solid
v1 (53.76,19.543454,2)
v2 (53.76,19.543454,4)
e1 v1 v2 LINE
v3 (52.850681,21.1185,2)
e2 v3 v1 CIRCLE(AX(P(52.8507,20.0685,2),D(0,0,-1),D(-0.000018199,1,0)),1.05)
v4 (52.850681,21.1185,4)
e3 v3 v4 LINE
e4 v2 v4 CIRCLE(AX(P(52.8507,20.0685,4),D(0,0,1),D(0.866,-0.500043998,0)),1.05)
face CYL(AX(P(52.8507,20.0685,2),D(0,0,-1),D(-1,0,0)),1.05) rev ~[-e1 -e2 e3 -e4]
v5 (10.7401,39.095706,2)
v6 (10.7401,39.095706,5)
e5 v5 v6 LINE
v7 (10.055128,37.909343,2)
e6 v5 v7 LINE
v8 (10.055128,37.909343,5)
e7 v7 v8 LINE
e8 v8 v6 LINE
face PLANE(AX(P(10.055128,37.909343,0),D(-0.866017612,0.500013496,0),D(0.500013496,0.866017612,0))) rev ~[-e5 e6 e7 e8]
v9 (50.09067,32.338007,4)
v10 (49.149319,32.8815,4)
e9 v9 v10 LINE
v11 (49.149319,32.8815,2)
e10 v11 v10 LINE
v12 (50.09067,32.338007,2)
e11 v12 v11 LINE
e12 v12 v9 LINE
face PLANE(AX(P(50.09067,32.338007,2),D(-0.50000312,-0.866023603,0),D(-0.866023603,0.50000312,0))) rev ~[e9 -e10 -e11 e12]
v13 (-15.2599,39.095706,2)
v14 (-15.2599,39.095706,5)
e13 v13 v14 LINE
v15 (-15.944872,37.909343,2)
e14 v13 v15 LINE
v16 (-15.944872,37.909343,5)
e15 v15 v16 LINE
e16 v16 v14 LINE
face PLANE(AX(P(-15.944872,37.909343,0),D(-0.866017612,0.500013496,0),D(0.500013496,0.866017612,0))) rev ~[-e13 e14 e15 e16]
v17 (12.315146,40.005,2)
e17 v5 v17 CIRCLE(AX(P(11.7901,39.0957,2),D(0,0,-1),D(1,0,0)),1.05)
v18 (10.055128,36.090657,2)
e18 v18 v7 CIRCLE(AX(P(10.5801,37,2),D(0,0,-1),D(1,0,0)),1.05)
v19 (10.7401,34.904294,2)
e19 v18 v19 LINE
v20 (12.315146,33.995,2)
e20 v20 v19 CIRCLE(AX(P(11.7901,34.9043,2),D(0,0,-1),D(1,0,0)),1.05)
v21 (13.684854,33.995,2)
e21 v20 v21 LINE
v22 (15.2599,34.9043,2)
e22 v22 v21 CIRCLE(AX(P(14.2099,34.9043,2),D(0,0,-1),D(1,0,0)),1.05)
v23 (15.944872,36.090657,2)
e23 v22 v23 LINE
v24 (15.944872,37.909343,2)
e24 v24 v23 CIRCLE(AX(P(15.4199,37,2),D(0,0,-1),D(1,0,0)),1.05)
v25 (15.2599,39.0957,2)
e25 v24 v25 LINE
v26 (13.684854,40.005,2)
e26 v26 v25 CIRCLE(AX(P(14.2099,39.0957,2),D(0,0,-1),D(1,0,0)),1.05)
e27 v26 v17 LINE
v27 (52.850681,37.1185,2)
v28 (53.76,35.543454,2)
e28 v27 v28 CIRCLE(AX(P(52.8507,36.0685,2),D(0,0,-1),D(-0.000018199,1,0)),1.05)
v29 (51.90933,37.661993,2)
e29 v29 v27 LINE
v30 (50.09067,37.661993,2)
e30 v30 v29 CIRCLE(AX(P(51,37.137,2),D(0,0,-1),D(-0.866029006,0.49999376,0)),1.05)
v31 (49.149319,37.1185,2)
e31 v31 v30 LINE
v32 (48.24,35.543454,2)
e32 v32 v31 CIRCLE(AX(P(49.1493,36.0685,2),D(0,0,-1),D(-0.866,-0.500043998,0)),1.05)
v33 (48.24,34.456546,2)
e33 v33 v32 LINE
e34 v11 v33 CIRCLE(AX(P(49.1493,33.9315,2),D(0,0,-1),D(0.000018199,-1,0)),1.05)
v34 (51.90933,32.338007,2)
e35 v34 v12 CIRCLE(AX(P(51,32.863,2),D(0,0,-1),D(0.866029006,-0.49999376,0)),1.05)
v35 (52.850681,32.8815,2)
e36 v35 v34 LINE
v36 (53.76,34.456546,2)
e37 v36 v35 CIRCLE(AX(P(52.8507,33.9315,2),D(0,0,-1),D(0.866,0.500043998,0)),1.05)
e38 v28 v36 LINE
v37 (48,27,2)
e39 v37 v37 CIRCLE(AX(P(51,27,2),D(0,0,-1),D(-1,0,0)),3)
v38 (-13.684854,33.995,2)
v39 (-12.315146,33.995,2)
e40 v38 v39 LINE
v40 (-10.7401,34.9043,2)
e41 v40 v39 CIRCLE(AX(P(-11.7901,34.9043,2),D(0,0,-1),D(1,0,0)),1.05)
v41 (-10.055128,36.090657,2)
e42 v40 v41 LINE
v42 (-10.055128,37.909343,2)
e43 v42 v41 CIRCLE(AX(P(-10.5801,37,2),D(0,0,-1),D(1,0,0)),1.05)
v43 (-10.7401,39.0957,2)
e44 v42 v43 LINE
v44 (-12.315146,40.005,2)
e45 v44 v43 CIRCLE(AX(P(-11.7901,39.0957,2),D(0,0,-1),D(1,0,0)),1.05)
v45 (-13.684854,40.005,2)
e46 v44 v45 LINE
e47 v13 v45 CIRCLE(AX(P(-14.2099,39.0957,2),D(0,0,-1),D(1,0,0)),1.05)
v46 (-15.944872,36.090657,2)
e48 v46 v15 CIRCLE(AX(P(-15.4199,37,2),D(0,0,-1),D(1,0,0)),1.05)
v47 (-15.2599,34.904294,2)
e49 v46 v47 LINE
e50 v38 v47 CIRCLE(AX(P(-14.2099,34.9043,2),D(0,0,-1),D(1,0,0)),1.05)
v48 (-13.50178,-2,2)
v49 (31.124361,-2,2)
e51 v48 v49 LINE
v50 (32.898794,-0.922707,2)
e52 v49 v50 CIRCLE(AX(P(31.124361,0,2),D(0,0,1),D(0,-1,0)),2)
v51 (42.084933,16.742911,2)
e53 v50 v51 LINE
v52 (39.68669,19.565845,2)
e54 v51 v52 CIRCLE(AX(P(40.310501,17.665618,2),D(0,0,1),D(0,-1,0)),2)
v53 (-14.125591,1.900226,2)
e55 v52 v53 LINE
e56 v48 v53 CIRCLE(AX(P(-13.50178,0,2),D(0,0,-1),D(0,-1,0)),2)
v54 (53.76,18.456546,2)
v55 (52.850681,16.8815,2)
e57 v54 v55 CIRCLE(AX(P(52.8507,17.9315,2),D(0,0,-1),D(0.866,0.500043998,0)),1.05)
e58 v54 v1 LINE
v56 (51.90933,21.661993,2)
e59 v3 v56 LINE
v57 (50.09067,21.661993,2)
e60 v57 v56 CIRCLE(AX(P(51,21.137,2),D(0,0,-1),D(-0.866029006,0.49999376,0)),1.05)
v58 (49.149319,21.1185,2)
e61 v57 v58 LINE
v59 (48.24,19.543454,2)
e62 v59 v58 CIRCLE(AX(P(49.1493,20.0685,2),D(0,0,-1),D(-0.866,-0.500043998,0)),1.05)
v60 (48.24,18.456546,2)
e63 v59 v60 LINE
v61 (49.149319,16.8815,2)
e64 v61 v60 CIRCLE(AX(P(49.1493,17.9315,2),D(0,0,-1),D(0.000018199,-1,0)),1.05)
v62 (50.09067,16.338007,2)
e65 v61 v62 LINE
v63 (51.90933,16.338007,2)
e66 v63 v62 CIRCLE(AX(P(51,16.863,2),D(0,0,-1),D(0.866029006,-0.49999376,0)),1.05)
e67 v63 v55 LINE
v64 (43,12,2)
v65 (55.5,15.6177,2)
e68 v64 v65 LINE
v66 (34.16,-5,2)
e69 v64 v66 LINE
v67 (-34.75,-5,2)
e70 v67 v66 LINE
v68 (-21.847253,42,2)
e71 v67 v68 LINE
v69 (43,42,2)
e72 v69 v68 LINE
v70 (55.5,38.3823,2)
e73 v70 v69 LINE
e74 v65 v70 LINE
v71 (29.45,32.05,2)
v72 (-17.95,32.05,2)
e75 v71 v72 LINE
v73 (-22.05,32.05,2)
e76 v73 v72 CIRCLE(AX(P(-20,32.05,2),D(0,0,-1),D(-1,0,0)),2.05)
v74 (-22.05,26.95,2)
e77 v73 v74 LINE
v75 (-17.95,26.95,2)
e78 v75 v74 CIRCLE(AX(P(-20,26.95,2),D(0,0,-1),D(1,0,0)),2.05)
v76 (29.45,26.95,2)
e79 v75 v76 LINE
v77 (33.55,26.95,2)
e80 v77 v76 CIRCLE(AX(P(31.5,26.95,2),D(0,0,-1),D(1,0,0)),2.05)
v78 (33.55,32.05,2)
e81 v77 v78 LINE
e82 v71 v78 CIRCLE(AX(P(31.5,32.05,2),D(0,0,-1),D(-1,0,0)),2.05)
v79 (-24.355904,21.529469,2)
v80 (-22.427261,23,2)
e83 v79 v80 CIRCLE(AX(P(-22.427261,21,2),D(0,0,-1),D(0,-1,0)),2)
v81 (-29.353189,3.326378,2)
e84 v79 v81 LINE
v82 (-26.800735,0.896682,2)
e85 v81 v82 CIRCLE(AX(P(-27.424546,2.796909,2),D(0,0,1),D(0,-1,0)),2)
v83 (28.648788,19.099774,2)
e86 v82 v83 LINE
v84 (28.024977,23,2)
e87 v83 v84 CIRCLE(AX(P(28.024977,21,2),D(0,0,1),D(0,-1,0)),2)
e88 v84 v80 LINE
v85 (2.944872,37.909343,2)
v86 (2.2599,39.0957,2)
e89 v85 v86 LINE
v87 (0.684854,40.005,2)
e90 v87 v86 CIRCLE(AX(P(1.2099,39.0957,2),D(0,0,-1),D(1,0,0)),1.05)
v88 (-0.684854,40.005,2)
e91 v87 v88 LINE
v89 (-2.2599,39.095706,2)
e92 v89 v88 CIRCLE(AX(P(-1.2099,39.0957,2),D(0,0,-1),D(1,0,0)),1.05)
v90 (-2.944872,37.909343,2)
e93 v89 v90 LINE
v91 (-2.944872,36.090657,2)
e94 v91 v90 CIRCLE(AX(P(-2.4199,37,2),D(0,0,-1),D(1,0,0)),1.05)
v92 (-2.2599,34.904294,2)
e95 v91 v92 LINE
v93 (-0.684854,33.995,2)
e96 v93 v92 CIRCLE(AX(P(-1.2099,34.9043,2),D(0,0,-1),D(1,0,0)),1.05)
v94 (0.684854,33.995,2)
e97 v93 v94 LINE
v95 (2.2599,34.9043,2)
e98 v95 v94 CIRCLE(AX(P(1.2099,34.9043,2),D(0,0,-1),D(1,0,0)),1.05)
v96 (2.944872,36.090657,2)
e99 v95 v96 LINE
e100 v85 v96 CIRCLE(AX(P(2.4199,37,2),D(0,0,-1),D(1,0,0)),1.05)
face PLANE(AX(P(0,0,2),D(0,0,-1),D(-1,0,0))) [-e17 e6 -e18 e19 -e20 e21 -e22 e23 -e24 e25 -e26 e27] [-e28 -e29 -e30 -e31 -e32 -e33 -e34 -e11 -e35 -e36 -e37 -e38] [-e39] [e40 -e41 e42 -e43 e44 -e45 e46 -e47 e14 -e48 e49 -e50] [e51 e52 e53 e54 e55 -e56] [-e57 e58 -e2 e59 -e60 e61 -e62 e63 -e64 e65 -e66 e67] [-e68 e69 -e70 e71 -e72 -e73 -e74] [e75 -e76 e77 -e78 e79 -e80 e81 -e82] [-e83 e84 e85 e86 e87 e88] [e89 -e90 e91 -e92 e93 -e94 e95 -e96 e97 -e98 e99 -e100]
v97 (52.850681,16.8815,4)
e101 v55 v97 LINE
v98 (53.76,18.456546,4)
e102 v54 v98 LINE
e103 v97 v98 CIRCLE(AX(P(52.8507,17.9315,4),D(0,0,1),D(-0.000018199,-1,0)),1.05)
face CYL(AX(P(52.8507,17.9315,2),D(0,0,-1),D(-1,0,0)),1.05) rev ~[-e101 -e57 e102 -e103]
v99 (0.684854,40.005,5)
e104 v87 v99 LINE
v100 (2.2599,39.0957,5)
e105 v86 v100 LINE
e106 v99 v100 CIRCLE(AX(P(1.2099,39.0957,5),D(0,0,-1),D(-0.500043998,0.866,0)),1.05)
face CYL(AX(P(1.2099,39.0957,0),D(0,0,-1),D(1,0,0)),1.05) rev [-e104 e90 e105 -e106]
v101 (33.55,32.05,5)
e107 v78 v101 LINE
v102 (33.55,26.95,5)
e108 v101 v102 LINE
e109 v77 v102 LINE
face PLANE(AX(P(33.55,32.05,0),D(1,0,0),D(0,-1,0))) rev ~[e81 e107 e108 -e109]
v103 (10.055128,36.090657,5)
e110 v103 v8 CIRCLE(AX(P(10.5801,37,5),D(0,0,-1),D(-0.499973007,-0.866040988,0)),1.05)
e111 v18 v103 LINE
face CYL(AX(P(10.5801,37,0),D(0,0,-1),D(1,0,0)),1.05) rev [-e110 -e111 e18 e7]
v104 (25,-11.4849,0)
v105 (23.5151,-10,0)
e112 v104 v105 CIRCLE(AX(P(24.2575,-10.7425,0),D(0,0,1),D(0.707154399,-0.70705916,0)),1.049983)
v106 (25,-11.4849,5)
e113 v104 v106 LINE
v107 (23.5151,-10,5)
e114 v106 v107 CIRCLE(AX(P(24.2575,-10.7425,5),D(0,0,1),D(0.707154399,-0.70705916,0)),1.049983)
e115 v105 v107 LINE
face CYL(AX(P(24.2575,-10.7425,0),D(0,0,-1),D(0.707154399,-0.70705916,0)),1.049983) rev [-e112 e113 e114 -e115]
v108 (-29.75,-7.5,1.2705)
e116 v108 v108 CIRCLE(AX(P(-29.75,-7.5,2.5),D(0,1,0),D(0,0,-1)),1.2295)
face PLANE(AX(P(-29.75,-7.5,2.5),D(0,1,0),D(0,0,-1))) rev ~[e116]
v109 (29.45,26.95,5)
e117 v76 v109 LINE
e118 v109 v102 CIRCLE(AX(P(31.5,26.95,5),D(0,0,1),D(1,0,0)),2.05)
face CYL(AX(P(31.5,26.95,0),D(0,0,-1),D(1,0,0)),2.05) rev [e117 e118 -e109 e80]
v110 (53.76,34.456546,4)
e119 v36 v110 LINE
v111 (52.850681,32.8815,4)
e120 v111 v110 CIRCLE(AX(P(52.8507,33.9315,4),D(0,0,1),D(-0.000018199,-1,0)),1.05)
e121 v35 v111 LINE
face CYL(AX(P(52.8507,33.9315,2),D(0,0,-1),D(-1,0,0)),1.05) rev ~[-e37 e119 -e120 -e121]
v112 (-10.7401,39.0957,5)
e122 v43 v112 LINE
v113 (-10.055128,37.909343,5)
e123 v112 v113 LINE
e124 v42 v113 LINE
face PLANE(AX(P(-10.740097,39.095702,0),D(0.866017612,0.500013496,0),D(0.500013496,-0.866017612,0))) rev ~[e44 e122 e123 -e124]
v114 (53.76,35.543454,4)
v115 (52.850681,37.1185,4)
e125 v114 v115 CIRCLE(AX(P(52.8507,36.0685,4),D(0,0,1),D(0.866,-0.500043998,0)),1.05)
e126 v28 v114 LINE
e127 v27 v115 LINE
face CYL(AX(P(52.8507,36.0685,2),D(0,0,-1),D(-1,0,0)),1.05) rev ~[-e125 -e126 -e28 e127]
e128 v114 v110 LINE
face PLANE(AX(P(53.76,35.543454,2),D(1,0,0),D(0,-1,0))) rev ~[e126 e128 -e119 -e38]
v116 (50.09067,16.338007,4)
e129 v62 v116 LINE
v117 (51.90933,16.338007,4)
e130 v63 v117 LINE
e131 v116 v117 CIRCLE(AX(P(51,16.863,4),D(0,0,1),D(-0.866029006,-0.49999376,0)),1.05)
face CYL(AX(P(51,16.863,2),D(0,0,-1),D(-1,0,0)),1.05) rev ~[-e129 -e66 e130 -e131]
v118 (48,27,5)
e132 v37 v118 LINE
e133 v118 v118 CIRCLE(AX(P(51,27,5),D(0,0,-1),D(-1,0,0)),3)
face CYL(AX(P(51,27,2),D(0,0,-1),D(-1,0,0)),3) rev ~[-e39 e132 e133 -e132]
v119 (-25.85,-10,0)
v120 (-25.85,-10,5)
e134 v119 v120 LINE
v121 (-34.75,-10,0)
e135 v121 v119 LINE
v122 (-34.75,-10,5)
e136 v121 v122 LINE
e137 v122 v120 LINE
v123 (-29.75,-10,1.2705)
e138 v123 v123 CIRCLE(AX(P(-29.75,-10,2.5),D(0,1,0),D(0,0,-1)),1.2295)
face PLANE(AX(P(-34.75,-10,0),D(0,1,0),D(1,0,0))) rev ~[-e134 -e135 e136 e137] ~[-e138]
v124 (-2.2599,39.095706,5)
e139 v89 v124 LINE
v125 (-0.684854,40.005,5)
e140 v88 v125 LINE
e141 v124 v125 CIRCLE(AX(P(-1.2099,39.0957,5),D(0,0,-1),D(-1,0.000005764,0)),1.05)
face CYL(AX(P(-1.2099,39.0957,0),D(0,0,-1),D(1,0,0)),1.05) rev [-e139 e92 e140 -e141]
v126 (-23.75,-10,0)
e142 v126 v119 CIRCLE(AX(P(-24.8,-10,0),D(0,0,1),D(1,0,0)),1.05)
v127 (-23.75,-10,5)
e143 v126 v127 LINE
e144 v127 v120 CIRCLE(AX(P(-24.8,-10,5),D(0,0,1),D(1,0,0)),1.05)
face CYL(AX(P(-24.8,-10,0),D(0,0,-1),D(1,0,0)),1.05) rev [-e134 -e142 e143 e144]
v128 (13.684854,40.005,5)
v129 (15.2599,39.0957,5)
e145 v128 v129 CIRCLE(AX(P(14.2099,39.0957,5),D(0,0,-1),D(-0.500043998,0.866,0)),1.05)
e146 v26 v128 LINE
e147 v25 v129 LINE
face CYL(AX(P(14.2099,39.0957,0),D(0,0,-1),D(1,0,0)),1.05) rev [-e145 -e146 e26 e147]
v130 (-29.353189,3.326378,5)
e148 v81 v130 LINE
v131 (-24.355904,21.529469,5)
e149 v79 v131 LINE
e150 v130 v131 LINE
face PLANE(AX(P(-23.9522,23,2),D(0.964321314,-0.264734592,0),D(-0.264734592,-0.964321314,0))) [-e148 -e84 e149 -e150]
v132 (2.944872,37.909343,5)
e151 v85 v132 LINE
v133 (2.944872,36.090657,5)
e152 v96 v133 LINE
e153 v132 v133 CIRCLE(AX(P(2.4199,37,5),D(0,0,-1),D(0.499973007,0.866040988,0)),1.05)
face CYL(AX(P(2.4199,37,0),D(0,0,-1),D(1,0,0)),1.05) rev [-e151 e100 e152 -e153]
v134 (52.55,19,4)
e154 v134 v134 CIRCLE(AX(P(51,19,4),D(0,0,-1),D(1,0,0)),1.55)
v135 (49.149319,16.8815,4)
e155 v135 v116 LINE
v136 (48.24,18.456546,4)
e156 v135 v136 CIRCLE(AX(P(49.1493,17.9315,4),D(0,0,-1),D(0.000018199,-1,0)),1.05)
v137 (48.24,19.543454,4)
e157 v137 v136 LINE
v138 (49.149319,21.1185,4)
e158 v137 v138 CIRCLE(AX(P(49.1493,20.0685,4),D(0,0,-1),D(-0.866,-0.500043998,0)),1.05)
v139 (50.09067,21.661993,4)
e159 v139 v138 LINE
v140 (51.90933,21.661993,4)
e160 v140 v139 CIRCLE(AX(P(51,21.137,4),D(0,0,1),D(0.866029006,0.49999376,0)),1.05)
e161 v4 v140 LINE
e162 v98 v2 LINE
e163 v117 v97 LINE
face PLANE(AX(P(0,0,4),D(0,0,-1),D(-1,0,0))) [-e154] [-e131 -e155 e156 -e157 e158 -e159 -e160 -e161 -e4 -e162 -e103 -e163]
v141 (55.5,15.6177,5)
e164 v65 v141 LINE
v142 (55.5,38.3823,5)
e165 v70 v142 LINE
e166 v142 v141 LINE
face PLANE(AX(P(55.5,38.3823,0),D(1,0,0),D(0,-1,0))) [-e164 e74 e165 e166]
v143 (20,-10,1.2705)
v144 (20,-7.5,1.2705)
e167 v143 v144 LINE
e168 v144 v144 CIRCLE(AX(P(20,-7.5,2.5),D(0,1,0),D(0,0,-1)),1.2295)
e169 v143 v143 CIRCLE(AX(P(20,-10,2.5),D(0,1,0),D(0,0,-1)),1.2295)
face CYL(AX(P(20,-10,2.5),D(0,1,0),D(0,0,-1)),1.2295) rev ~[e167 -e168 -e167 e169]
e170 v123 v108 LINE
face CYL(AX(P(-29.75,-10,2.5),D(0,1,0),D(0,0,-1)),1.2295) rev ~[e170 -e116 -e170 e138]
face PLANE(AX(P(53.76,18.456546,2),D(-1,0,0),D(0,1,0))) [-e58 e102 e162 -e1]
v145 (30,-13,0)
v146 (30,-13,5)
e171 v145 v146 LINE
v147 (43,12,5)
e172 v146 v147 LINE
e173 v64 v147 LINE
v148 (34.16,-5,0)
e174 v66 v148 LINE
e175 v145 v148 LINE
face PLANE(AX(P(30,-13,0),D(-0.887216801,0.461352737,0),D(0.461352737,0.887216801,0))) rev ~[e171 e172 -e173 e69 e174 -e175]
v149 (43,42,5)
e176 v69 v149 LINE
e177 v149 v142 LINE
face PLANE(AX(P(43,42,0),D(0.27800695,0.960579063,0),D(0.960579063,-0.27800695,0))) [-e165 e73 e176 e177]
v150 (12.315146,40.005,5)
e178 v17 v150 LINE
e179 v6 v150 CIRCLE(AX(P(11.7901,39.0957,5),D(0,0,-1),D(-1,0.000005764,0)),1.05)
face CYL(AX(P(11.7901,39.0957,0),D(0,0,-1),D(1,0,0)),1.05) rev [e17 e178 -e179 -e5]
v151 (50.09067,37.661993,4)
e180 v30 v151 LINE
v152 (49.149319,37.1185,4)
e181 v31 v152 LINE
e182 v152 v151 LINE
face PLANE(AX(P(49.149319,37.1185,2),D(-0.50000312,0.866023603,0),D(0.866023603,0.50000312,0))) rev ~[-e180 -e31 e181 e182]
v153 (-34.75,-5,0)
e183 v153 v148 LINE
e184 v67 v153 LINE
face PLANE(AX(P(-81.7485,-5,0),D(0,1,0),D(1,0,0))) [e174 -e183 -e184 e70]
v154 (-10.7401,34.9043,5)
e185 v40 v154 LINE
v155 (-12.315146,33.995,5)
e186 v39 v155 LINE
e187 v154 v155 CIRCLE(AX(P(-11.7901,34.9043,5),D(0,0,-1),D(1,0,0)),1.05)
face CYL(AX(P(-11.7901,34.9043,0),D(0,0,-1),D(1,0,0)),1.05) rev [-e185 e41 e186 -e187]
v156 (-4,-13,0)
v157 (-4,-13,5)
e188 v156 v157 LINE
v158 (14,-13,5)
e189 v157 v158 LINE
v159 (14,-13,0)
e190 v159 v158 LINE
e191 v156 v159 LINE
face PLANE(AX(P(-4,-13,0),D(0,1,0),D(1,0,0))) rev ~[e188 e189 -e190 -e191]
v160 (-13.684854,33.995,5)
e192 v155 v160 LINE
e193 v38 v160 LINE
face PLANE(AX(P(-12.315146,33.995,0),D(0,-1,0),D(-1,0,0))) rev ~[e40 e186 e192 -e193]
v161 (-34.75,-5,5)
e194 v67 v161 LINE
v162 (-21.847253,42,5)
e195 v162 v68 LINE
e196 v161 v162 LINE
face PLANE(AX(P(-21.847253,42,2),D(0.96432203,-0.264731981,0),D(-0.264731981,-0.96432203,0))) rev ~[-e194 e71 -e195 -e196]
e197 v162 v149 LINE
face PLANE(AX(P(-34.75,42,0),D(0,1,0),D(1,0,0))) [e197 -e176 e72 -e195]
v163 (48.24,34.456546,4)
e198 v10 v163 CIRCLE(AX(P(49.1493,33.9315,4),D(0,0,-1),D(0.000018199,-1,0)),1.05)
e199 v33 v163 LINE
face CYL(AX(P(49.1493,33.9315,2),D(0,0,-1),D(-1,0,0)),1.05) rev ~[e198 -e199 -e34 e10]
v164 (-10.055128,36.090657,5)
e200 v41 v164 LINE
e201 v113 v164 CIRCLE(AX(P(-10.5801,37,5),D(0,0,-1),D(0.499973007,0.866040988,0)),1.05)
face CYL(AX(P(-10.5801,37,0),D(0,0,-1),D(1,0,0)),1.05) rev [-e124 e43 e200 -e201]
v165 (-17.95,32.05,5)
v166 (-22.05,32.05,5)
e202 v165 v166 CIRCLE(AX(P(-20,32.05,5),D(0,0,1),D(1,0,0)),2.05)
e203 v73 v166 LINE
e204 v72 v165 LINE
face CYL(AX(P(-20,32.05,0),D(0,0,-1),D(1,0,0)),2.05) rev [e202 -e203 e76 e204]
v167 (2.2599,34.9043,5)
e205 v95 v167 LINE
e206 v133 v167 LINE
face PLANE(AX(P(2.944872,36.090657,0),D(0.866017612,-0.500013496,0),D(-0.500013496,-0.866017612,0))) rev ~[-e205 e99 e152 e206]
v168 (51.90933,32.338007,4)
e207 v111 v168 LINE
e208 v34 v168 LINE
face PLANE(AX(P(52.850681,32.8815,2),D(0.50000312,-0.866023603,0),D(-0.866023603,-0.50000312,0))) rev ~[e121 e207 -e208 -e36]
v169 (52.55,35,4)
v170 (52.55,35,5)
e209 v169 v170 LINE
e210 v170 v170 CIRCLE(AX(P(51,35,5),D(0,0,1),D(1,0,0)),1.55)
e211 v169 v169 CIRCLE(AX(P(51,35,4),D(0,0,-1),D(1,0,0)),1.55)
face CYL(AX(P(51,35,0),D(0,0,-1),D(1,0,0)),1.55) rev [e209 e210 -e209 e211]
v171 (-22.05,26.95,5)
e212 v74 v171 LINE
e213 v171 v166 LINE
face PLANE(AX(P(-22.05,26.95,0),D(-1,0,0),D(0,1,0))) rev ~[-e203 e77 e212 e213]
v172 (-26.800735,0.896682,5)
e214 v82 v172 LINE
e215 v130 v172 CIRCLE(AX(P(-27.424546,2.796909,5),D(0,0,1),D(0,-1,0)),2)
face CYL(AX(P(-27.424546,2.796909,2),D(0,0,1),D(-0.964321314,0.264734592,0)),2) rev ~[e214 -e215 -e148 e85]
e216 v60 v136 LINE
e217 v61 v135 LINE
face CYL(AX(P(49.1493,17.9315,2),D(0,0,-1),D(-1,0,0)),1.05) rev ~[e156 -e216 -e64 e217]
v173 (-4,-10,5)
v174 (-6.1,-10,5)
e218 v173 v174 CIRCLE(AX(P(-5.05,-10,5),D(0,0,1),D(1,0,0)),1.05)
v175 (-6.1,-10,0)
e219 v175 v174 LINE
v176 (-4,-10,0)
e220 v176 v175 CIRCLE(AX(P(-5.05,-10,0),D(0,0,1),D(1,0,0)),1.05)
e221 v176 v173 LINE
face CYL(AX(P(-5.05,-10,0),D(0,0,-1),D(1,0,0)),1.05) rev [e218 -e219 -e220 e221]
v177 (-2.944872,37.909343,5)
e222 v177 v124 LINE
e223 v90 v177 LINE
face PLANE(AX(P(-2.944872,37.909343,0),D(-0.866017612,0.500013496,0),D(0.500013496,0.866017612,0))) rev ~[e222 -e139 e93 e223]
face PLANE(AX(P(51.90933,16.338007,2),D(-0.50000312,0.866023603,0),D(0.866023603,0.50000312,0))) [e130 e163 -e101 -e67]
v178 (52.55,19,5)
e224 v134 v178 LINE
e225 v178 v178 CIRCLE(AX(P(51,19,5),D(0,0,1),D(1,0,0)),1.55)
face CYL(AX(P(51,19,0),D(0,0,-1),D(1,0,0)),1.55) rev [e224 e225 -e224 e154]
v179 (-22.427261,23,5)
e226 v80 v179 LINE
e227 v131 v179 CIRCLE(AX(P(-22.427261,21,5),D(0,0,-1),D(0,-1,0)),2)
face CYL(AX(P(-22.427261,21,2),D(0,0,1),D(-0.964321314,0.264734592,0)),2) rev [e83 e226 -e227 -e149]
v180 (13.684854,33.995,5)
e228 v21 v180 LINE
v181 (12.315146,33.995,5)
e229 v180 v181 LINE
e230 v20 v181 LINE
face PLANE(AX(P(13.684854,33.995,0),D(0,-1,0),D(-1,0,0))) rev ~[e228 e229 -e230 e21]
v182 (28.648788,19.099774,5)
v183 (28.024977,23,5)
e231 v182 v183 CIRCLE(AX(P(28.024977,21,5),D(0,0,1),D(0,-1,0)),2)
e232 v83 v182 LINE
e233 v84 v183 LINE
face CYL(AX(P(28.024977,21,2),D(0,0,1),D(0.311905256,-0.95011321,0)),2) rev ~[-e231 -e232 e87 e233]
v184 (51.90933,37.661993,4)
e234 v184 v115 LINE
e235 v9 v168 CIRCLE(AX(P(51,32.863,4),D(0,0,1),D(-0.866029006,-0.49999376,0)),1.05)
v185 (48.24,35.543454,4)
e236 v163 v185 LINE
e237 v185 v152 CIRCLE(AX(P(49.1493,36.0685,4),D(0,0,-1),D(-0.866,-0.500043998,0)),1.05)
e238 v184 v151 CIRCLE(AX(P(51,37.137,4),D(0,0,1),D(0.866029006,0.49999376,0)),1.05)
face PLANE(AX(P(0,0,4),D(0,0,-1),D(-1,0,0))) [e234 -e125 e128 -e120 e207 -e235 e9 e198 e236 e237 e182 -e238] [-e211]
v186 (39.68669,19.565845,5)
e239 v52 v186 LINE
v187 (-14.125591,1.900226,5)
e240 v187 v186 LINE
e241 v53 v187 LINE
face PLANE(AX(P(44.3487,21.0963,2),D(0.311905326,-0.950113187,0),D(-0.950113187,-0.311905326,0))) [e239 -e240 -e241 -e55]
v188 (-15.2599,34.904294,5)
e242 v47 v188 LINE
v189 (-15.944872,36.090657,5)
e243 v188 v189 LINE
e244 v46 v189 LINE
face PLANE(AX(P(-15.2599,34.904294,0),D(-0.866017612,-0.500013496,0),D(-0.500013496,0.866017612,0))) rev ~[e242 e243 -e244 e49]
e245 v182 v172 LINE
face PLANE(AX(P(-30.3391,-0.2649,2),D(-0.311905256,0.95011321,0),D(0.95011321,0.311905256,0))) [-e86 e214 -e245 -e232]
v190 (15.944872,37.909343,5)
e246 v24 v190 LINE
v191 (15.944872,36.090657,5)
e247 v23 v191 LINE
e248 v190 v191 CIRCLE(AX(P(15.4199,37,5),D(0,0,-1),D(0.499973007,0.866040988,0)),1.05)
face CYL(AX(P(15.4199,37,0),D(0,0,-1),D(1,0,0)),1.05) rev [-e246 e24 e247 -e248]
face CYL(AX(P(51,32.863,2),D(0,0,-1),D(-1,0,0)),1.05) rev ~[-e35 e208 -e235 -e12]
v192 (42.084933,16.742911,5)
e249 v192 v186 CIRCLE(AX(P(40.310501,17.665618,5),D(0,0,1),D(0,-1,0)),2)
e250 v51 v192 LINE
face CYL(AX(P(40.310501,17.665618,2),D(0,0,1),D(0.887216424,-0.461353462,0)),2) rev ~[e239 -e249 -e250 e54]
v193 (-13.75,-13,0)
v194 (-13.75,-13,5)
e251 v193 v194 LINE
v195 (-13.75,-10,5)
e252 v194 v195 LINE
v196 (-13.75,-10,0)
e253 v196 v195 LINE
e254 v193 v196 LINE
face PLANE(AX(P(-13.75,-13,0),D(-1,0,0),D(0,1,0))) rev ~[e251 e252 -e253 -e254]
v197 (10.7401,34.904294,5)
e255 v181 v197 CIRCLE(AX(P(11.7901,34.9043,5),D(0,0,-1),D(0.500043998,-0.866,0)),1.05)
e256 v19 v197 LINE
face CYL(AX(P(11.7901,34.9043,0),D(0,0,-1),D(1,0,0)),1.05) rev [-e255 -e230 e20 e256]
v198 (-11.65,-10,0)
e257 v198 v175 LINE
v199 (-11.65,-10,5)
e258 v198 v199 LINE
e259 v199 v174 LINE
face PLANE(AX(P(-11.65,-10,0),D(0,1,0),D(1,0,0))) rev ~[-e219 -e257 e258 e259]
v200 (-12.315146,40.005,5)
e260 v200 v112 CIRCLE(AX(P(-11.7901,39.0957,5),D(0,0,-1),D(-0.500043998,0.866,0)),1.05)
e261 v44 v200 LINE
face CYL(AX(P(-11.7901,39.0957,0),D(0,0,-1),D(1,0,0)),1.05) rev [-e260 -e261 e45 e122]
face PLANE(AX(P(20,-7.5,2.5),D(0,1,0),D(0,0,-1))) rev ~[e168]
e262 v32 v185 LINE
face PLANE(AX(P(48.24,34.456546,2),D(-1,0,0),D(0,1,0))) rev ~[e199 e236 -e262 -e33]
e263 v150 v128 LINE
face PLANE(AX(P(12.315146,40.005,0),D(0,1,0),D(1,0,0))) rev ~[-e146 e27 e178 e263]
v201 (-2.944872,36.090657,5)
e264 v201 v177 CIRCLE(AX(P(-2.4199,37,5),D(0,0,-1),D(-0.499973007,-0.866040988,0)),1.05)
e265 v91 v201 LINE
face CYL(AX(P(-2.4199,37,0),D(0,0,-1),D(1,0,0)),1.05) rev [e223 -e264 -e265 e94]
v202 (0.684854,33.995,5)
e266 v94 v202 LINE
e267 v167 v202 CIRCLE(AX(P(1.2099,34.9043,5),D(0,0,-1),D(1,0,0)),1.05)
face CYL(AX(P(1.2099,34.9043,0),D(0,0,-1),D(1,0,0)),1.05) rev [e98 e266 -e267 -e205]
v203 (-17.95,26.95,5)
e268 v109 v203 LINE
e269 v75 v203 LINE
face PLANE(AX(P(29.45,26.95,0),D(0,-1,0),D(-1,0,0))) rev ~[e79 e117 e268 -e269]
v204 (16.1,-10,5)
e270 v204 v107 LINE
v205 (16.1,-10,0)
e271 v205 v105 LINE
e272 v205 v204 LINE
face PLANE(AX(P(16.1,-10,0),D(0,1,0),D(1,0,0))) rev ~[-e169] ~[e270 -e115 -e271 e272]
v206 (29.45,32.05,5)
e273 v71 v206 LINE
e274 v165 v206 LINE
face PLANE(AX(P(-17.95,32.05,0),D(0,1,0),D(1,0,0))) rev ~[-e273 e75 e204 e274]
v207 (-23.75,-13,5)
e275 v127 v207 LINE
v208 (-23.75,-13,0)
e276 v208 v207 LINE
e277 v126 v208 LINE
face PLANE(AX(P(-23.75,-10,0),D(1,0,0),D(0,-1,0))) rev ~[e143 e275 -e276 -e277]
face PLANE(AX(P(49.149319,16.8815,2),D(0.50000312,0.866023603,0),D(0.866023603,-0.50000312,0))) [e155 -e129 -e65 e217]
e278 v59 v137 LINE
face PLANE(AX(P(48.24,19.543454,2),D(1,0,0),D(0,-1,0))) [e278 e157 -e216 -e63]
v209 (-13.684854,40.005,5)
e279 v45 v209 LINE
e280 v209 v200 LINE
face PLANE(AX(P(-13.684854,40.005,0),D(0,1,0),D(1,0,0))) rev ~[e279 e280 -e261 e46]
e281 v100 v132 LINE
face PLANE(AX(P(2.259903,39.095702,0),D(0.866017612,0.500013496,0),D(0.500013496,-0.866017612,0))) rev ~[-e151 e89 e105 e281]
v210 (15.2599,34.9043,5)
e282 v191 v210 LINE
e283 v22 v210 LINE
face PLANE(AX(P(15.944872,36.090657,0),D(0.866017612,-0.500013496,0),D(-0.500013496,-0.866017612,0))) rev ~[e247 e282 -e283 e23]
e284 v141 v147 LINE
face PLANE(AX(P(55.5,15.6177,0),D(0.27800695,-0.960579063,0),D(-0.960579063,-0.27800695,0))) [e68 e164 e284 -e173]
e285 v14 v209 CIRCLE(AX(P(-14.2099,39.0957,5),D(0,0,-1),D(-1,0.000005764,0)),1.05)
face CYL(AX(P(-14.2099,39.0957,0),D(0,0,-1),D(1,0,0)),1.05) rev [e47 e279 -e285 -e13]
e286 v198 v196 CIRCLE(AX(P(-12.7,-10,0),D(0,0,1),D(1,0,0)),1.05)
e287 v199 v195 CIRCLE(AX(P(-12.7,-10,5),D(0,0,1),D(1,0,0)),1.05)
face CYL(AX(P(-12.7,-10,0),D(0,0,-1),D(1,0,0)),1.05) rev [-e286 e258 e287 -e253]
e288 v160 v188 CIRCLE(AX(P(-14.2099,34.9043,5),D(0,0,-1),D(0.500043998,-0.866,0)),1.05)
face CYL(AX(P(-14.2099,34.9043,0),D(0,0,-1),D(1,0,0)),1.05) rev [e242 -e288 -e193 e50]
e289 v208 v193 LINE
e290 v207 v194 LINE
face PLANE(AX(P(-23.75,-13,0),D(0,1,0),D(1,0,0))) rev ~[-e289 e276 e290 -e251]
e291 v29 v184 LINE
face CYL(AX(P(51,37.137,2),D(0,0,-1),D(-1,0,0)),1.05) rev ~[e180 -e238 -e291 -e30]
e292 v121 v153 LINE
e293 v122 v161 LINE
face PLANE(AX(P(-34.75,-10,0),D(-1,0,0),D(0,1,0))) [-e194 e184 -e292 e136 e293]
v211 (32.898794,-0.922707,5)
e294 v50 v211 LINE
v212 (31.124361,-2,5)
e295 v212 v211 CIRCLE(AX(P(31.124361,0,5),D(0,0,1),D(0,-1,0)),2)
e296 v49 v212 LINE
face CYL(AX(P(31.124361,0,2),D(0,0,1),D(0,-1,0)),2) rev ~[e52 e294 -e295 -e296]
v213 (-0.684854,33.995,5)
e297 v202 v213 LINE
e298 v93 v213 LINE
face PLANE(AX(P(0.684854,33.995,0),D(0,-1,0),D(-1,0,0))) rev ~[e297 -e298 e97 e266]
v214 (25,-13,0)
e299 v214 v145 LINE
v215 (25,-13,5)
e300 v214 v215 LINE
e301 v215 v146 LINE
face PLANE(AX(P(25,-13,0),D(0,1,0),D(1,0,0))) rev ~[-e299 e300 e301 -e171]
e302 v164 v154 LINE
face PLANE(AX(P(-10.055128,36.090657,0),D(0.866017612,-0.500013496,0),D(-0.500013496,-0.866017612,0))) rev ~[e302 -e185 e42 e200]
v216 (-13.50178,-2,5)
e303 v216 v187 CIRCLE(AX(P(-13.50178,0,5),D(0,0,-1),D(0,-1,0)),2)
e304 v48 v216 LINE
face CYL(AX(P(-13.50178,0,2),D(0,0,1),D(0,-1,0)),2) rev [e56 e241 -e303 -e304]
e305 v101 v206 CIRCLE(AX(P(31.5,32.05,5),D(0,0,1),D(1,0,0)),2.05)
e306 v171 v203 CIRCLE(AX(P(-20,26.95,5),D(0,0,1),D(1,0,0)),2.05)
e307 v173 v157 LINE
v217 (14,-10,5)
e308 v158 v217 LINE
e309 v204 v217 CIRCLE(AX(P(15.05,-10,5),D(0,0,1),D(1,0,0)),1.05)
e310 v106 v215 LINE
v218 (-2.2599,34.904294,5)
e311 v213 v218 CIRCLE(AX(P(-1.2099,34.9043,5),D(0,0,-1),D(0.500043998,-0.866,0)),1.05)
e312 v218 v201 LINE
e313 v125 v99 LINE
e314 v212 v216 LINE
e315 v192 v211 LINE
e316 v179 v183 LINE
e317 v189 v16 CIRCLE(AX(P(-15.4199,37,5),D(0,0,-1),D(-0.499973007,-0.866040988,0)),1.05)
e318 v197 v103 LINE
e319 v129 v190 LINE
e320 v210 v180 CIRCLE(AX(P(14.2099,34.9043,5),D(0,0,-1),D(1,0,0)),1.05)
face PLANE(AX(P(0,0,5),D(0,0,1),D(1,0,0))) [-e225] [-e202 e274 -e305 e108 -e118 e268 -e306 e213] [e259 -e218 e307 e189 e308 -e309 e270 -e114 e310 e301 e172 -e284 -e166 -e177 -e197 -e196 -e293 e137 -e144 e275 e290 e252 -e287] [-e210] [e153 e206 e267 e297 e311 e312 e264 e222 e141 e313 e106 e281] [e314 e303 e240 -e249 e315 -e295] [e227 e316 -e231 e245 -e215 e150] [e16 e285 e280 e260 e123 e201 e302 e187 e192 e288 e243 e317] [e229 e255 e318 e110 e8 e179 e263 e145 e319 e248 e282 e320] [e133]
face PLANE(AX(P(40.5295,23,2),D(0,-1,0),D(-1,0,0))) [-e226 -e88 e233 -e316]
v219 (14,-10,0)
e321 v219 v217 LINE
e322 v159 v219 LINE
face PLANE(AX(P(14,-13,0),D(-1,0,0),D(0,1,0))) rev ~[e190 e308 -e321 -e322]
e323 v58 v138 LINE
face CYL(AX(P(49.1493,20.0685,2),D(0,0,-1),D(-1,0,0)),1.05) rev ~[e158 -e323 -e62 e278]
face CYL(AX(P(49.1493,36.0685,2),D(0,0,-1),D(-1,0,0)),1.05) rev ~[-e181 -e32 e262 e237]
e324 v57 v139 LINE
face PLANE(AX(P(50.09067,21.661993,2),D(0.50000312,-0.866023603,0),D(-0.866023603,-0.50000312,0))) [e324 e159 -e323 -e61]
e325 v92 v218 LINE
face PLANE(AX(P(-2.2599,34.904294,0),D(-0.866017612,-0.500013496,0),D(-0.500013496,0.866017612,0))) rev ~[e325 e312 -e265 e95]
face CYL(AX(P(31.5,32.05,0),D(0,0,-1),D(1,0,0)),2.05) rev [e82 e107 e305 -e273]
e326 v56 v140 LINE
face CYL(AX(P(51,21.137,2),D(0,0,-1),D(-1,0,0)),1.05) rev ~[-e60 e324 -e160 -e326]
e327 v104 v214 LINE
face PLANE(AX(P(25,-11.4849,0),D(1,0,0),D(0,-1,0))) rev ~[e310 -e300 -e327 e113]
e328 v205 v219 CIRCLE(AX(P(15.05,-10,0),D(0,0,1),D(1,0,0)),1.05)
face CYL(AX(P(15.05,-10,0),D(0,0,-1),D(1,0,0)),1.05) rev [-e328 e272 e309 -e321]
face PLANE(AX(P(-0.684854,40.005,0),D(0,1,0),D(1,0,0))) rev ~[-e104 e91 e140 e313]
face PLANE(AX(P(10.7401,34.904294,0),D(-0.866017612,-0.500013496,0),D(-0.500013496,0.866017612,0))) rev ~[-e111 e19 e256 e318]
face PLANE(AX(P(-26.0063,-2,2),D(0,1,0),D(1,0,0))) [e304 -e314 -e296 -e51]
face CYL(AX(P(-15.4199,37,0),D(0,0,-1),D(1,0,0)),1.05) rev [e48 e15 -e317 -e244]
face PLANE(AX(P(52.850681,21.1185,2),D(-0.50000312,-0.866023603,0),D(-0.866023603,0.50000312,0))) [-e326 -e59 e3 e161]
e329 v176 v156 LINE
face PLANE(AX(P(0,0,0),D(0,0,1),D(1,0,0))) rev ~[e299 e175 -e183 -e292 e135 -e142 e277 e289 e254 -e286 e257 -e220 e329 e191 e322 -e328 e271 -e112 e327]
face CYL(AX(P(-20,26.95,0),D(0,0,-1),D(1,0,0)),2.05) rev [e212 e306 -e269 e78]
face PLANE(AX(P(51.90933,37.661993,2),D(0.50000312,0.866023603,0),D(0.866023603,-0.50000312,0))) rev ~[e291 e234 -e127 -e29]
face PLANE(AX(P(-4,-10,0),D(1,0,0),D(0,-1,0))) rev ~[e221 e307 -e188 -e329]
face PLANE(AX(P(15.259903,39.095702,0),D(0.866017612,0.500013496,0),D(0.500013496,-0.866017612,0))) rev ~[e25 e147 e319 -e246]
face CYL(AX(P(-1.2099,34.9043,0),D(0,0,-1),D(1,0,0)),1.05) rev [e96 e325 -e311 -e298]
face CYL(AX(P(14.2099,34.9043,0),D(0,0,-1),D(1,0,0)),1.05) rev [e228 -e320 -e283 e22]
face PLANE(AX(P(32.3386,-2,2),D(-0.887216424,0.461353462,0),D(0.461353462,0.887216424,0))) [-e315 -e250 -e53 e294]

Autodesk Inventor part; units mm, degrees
ref_plane "YZ Plane" through (0, 0, 0) normal (1, 0, 0) x (0, 1, 0)
ref_plane "XZ Plane" through (0, 0, 0) normal (0, 1, 0) x (-1, 0, 0)
ref_plane "XY Plane" through (0, 0, 0) normal (0, 0, 1) x (1, 0, 0)
sketch "スケッチ1" plane through (0, 0, 0) normal (0, 0, 1) x (1, 0, 0)
  line L0 (-34.75, -10) -> (23.5151, -10) construction
  arc A0 (25, -11.4849) -> (23.5151, -10) centre (24.2575, -10.7425) ccw
  line L1 (25, -11.4849) -> (25, -13)
  line L2 (25, -13) -> (30, -13)
  line L3 (23.5151, -10) -> (25, -10) construction
  line L4 (25, -10) -> (25, -11.4849) construction
  line L5 (-34.75, -10) -> (-34.75, 42)
  line L6 (-34.75, 42) -> (43, 42)
  circle A1 centre (-13, 37) radius 1.2
  circle A2 centre (13, 37) radius 1.2
  line L7 (0, 30.2) -> (0, 0) construction
  line L8 (30, -13) -> (43, 12)
  line L9 (43, 12) -> (43, 42)
  line L10 (-22.05, 32.05) -> (33.55, 32.05)
  line L11 (33.55, 32.05) -> (33.55, 26.95)
  line L12 (33.55, 26.95) -> (-22.05, 26.95)
  line L13 (-22.05, 26.95) -> (-22.05, 32.05)
  line L14 (33.5, 32) -> (-22, 32) construction
  line L15 (-22, 32) -> (-22, 27) construction
  line L16 (-22, 27) -> (33.5, 27) construction
  line L17 (33.5, 27) -> (33.5, 32) construction
  circle A3 centre (-20, 32.05) radius 2.05
  circle A4 centre (-20, 26.95) radius 2.05
  circle A5 centre (31.5, 32.05) radius 2.05
  circle A6 centre (31.5, 26.95) radius 2.05
  line L18 (-34.75, -10) -> (-25.85, -10)
  arc A7 (-23.75, -10) -> (-25.85, -10) centre (-24.8, -10) ccw
  line L19 (-23.75, -10) -> (-23.75, -13)
  line L20 (-23.75, -13) -> (-13.75, -13)
  line L21 (-13.75, -13) -> (-13.75, -10)
  arc A8 (-11.65, -10) -> (-13.75, -10) centre (-12.7, -10) ccw
  line L22 (-11.65, -10) -> (-6.1, -10)
  arc A9 (-4, -10) -> (-6.1, -10) centre (-5.05, -10) ccw
  line L23 (-4, -10) -> (-4, -13)
  line L24 (-4, -13) -> (14, -13)
  line L25 (14, -13) -> (14, -10)
  arc A10 (16.1, -10) -> (14, -10) centre (15.05, -10) ccw
  line L26 (16.1, -10) -> (23.5151, -10)
  line L27 (18.45, -6.1712) -> (21.55, -6.1712) construction
  line L28 (21.55, -6.1712) -> (21.55, -12.9737) construction
  line L29 (21.55, -12.9737) -> (18.45, -12.9737) construction
  line L30 (18.45, -12.9737) -> (18.45, -6.1712) construction
  line L31 (-31.3, -5.7897) -> (-28.2, -5.7897) construction
  line L32 (-28.2, -5.7897) -> (-28.2, -15) construction
  line L33 (-28.2, -15) -> (-31.3, -15) construction
  line L34 (-31.3, -15) -> (-31.3, -5.7897) construction
  line L35 (-29.75, -5.7897) -> (-29.75, -15) construction
  line L36 (20, -6.1712) -> (20, -12.9737) construction
  line L37 (43, 42) -> (55.5, 38.3823)
  line L38 (55.5, 38.3823) -> (55.5, 15.6177)
  line L39 (55.5, 15.6177) -> (43, 12)
  circle A11 centre (51, 35) radius 1.55
  circle A12 centre (51, 19) radius 1.55
  circle A13 centre (51, 35) radius 4.5 construction
  circle A14 centre (51, 19) radius 4.5 construction
  line L40 (51, 35) -> (51, 19) construction
  line L41 (-11.2651, 33.995) -> (-14.7349, 33.995)
  line L42 (-14.7349, 33.995) -> (-16.4699, 37)
  line L43 (-16.4699, 37) -> (-14.7349, 40.005)
  line L44 (-14.7349, 40.005) -> (-11.2651, 40.005)
  line L45 (-11.2651, 40.005) -> (-9.5301, 37)
  line L46 (-9.5301, 37) -> (-11.2651, 33.995)
  circle A15 centre (-15.4199, 37) radius 1.05
  circle A16 centre (-14.2099, 34.9043) radius 1.05
  circle A17 centre (-11.7901, 34.9043) radius 1.05
  circle A18 centre (-10.5801, 37) radius 1.05
  circle A19 centre (-11.7901, 39.0957) radius 1.05
  circle A20 centre (-14.2099, 39.0957) radius 1.05
  line L47 (16.4699, 37) -> (14.7349, 33.995)
  line L48 (14.7349, 33.995) -> (11.2651, 33.995)
  line L49 (11.2651, 33.995) -> (9.5301, 37)
  line L50 (9.5301, 37) -> (11.2651, 40.005)
  line L51 (11.2651, 40.005) -> (14.7349, 40.005)
  line L52 (14.7349, 40.005) -> (16.4699, 37)
  circle A21 centre (10.5801, 37) radius 1.05
  circle A22 centre (11.7901, 34.9043) radius 1.05
  circle A23 centre (14.2099, 34.9043) radius 1.05
  circle A24 centre (15.4199, 37) radius 1.05
  circle A25 centre (14.2099, 39.0957) radius 1.05
  circle A26 centre (11.7901, 39.0957) radius 1.05
  line L53 (1.7349, 33.995) -> (-1.7349, 33.995)
  line L54 (-1.7349, 33.995) -> (-3.4699, 37)
  line L55 (-3.4699, 37) -> (-1.7349, 40.005)
  line L56 (-1.7349, 40.005) -> (1.7349, 40.005)
  line L57 (1.7349, 40.005) -> (3.4699, 37)
  line L58 (3.4699, 37) -> (1.7349, 33.995)
  circle A27 centre (-2.4199, 37) radius 1.05
  circle A28 centre (-1.2099, 34.9043) radius 1.05
  circle A29 centre (1.2099, 34.9043) radius 1.05
  circle A30 centre (2.4199, 37) radius 1.05
  circle A31 centre (1.2099, 39.0957) radius 1.05
  circle A32 centre (-1.2099, 39.0957) radius 1.05
  line L59 (51, 38.1754) -> (53.75, 36.5877)
  line L60 (53.75, 36.5877) -> (53.75, 33.4123)
  line L61 (53.75, 33.4123) -> (51, 31.8246)
  line L62 (51, 31.8246) -> (48.25, 33.4123)
  line L63 (48.25, 33.4123) -> (48.25, 36.5877)
  line L64 (48.25, 36.5877) -> (51, 38.1754)
  point P0 (43, 27)
  point P1 (55.5, 27)
  point P2 (-14.7349, 33.995)
  point P3 (-11.2651, 33.995)
  point P4 (-9.5301, 37)
  point P5 (-11.2651, 40.005)
  point P6 (-14.7349, 40.005)
  point P7 (14.7349, 40.005)
  point P8 (11.2651, 40.005)
  point P9 (0, 37)
  point P10 (3.4699, 37)
  point P11 (1.7349, 40.005)
  point P12 (-1.7349, 40.005)
  dimension "d110" = 4.1
  dimension "d201" = 2.1
  dimension "d42" = 2.4
  dimension "d44" = 13
  dimension "d90" = 5
  dimension "d91" = 59.75
  dimension "d92" = 1.05
  dimension "d93" = 25
  dimension "d95" = 3
  dimension "d96" = 10
  dimension "d97" = 43
  dimension "d98" = 30
  dimension "d99" = 52
  dimension "d100" = 37
  dimension "d104" = 55.5
  dimension "d105" = 0.05
  dimension "d106" = 22
  dimension "d107" = 42
  dimension "d109" = 5
  dimension "d111" = 1.05
  dimension "d113" = 49.75
  dimension "d114" = 5
  dimension "d115" = 3.1
  dimension "d116" = 6
  dimension "d117" = 6
  dimension "d118" = 10
  dimension "d119" = 18
  dimension "d120" = 3
  dimension "d184" = 3.1
  dimension "d186" = 16
  dimension "d200" = 6.01
  dimension "d204" = 360
  dimension "d208" = 360
  dimension "d212" = 360
  dimension "d214" = 13
  dimension "d216" = 5.5
  dimension "d217" = 9
  dimension "d218" = 8
extrude "押し出し1" add sketch "スケッチ1" along normal blind 5 contours A0 L26 A10 L25 L24 L23 A9 L22 A8 L21 L20 L19 A7 L18 L5 L6 L9 L8 L2 L1 | L9 L37 L38 L39 | L59 L60 L61 L62 L63 L64
sketch "スケッチ2" plane through (-34.75, -10, 0) normal (0, -1, 0) x (1, 0, 0)
  line L0 (0, 0) -> (0, 5)
  line L1 (8.9, 0) -> (8.9, 5) projected
  line L2 (0, 0) -> (0, 5) projected
  line L3 (59.75, 0) -> (59.75, 5) projected
  point P0 (54.75, 2.5)
  point P1 (0, 2.5)
  point P2 (5, 2.5)
  point P3 (8.9, 2.5)
  dimension "d72" = 49.75
  dimension "d112" = 5
hole "穴1" at (20, -10, 2.5) at (-29.75, -10, 2.5) direction (0, 1, 0) diameter 2.459 depth 2.5 thread size "M3x0.5" class "6H" standard "ISO Metric profile"
sketch "スケッチ9" plane through (0, 0, 0) normal (0, 0, -1) x (-1, 0, 0)
  line L0 (-16.1, -10) -> (-23.5151, -10) projected
  line L1 (17.95, 26.95) -> (-29.45, 26.95) projected
  arc A0 (-33.55, 26.95) -> (-29.45, 26.95) centre (-31.5, 26.95) ccw projected
  line L2 (-33.55, 26.95) -> (-33.55, 32.05) projected
  arc A1 (-29.45, 32.05) -> (-33.55, 32.05) centre (-31.5, 32.05) ccw projected
  line L3 (-29.45, 32.05) -> (17.95, 32.05) projected
  arc A2 (22.05, 32.05) -> (17.95, 32.05) centre (20, 32.05) ccw projected
  line L4 (22.05, 32.05) -> (22.05, 26.95) projected
  arc A3 (17.95, 26.95) -> (22.05, 26.95) centre (20, 26.95) ccw projected
  circle A4 centre (-10, 36) radius 1.2 projected
  circle A5 centre (10, 36) radius 1.2 projected
  circle A6 centre (-51, 19) radius 1.55 projected
  circle A7 centre (-51, 35) radius 1.55 projected
  line L5 (-67.988, 57.9937) -> (81.7485, 57.9937)
  line L6 (81.7485, 57.9937) -> (81.7485, -5)
  line L7 (81.7485, -5) -> (-67.988, -5)
  line L8 (-67.988, -5) -> (-67.988, 57.9937)
  point P0 (0, 0)
  dimension "d197" = 5
extrude "押し出し5" cut sketch "スケッチ9" against normal blind 2 contours A4 | A5 | L5 L6 L7 L8
sketch "スケッチ10" plane through (0, 0, 2) normal (0, 0, -1) x (-1, 0, 0)
  line L0 (-55.5, 15.6177) -> (-55.5, 38.3823) projected
  circle A0 centre (-51, 19) radius 1.55 projected
  circle A1 centre (-51, 35) radius 1.55 projected
  line L1 (-48.25, 33.4123) -> (-51, 31.8246)
  line L2 (-51, 31.8246) -> (-53.75, 33.4123)
  line L3 (-53.75, 33.4123) -> (-53.75, 36.5877)
  line L4 (-53.75, 36.5877) -> (-51, 38.1754)
  line L5 (-51, 38.1754) -> (-48.25, 36.5877)
  line L6 (-48.25, 36.5877) -> (-48.25, 33.4123)
  line L7 (-51, 38.187) -> (-53.76, 36.5935)
  line L8 (-53.76, 36.5935) -> (-53.76, 33.4065)
  line L9 (-53.76, 33.4065) -> (-51, 31.813)
  line L10 (-51, 31.813) -> (-48.24, 33.4065)
  line L11 (-48.24, 33.4065) -> (-48.24, 36.5935)
  line L12 (-48.24, 36.5935) -> (-51, 38.187)
  circle A2 centre (-51, 37.137) radius 1.05
  circle A3 centre (-52.8507, 36.0685) radius 1.05
  circle A4 centre (-52.8507, 33.9315) radius 1.05
  circle A5 centre (-51, 32.863) radius 1.05
  circle A6 centre (-49.1493, 33.9315) radius 1.05
  circle A7 centre (-49.1493, 36.0685) radius 1.05
  line L13 (-55.5, 27) -> (-40.5359, 27) construction
  line L14 (-55.5, 15.6177) -> (-43, 12)
  line L15 (-48.25, 20.5877) -> (-51, 22.1754)
  line L16 (-51, 22.1754) -> (-53.75, 20.5877)
  line L17 (-53.75, 20.5877) -> (-53.75, 17.4123)
  line L18 (-53.75, 17.4123) -> (-51, 15.8246)
  line L19 (-51, 15.8246) -> (-48.25, 17.4123)
  line L20 (-48.25, 17.4123) -> (-48.25, 20.5877)
  line L21 (-51, 15.813) -> (-53.76, 17.4065)
  line L22 (-53.76, 17.4065) -> (-53.76, 20.5935)
  line L23 (-53.76, 20.5935) -> (-51, 22.187)
  line L24 (-51, 22.187) -> (-48.24, 20.5935)
  line L25 (-48.24, 20.5935) -> (-48.24, 17.4065)
  line L26 (-48.24, 17.4065) -> (-51, 15.813)
  circle A8 centre (-51, 16.863) radius 1.05
  circle A9 centre (-52.8507, 17.9315) radius 1.05
  circle A10 centre (-52.8507, 20.0685) radius 1.05
  circle A11 centre (-51, 21.137) radius 1.05
  circle A12 centre (-49.1493, 20.0685) radius 1.05
  circle A13 centre (-49.1493, 17.9315) radius 1.05
  point P0 (0, 0)
  point P1 (-53.76, 36.5935)
  point P2 (-53.76, 33.4065)
  point P3 (-51, 31.813)
  point P4 (-48.24, 33.4065)
  point P5 (-48.24, 36.5935)
  point P6 (-51, 19)
  point P7 (-51, 19)
  point P8 (-53.76, 17.4065)
  point P9 (-53.76, 20.5935)
  point P10 (-51, 22.187)
  point P11 (-48.24, 20.5935)
  point P12 (-48.24, 17.4065)
  dimension "d219" = 2.1
  dimension "d215" = 5.5
  dimension "d220" = 0.01
  dimension "d223" = 360
extrude "押し出し6" cut sketch "スケッチ10" against normal blind 2
sketch "スケッチ11" plane through (0, 0, 2) normal (0, 0, -1) x (-1, 0, 0)
  line L0 (-34.16, -5) -> (-43, 12) projected
  line L1 (34.75, -5) -> (-34.16, -5) projected
  line L2 (-43, 42) -> (34.75, 42) projected
  line L3 (-55.5, 15.6177) -> (-55.5, 38.3823) projected
  arc A0 (17.95, 26.95) -> (22.05, 26.95) centre (20, 26.95) ccw projected
  line L4 (-29.45, 26.95) -> (17.95, 26.95) projected
  arc A1 (-33.55, 26.95) -> (-29.45, 26.95) centre (-31.5, 26.95) ccw projected
  line L5 (-33.55, 32.05) -> (-33.55, 26.95) projected
  arc A2 (-29.45, 32.05) -> (-33.55, 32.05) centre (-31.5, 32.05) ccw projected
  line L6 (17.95, 32.05) -> (-29.45, 32.05) projected
  arc A3 (22.05, 32.05) -> (17.95, 32.05) centre (20, 32.05) ccw projected
  line L7 (22.05, 26.95) -> (22.05, 32.05) projected
  line L8 (21.2982, 44) -> (34.75, -5)
  line L9 (34.75, -5) -> (51.8772, -5)
  line L10 (51.8772, -5) -> (51.8772, 44)
  line L11 (51.8772, 44) -> (21.2982, 44)
  arc A4 (-29.5006, 32) -> (-33.5, 32.05) centre (-31.5, 32.05) ccw construction
  line L12 (-33.5, 32.05) -> (-33.5, 26.95) construction
  arc A5 (-33.5, 26.95) -> (-29.5006, 27) centre (-31.5, 26.95) ccw construction
  line L13 (-29.5006, 27) -> (18.0006, 27) construction
  arc A6 (18.0006, 27) -> (22, 26.95) centre (20, 26.95) ccw construction
  line L14 (22, 26.95) -> (22, 32.05) construction
  arc A7 (22, 32.05) -> (18.0006, 32) centre (20, 32.05) ccw construction
  line L15 (18.0006, 32) -> (-29.5006, 32) construction
  line L16 (18.0006, 32) -> (22, 32) construction
  circle A8 centre (22, 32) radius 2.5 construction
  line L17 (-45.3386, 23) -> (23.9522, 23) construction
  line L18 (23.9522, 23) -> (30.8154, -2) construction
  line L19 (30.8154, -2) -> (-32.3386, -2) construction
  line L20 (-32.3386, -2) -> (-45.3386, 23) construction
  line L21 (-45.3386, 23) -> (30.8154, -2) construction
  line L22 (-44.3487, 21.0963) -> (26.0063, -2)
  line L23 (26.0063, -2) -> (-32.3386, -2)
  line L24 (-32.3386, -2) -> (-44.3487, 21.0963)
  line L25 (-40.5295, 23) -> (23.9522, 23)
  line L26 (23.9522, 23) -> (30.3391, -0.2649)
  line L27 (30.3391, -0.2649) -> (-40.5295, 23)
  circle A9 centre (-51, 19) radius 1.55 construction
  circle A10 centre (-51, 19) radius 1.55 construction
  circle A11 centre (-51, 35) radius 1.55 construction
  circle A12 centre (-51, 35) radius 1.55 construction
  line L28 (-51, 19) -> (-51, 35) construction
  circle A13 centre (-51, 27) radius 3
  circle A14 centre (-51, 27) radius 4.5 construction
  point P0 (0, 0)
  dimension "d227" = 0.05
  dimension "d228" = 5
  dimension "d229" = 2
  dimension "d230" = 3
  dimension "d231" = 3
  dimension "d232" = 4
  dimension "d233" = 3
  dimension "d234" = 1.5
  dimension "d235" = 1.5
extrude "押し出し7" cut sketch "スケッチ11" against normal blind 5 contours L11 L10 L9 L8 | L22 L23 L24 | L25 L26 L27 | A13
fillet "フィレット4" radius 2 6 edges at (44.3487, 21.0963, 3.5) (-23.9522, 23, 3.5) (-30.3391, -0.2649, 3.5) (-26.0063, -2, 3.5) (40.5295, 23, 3.5) (32.3386, -2, 3.5)
equation "\"d91\" = d54"
equation "\"d72\" = d69_1"
equation "\"d54\" = 59.75"
equation "\"d69_1\" = 49.75"
properties part number "胴体_サブフレーム_1_1" material "アルミニウム 2014-T4"
